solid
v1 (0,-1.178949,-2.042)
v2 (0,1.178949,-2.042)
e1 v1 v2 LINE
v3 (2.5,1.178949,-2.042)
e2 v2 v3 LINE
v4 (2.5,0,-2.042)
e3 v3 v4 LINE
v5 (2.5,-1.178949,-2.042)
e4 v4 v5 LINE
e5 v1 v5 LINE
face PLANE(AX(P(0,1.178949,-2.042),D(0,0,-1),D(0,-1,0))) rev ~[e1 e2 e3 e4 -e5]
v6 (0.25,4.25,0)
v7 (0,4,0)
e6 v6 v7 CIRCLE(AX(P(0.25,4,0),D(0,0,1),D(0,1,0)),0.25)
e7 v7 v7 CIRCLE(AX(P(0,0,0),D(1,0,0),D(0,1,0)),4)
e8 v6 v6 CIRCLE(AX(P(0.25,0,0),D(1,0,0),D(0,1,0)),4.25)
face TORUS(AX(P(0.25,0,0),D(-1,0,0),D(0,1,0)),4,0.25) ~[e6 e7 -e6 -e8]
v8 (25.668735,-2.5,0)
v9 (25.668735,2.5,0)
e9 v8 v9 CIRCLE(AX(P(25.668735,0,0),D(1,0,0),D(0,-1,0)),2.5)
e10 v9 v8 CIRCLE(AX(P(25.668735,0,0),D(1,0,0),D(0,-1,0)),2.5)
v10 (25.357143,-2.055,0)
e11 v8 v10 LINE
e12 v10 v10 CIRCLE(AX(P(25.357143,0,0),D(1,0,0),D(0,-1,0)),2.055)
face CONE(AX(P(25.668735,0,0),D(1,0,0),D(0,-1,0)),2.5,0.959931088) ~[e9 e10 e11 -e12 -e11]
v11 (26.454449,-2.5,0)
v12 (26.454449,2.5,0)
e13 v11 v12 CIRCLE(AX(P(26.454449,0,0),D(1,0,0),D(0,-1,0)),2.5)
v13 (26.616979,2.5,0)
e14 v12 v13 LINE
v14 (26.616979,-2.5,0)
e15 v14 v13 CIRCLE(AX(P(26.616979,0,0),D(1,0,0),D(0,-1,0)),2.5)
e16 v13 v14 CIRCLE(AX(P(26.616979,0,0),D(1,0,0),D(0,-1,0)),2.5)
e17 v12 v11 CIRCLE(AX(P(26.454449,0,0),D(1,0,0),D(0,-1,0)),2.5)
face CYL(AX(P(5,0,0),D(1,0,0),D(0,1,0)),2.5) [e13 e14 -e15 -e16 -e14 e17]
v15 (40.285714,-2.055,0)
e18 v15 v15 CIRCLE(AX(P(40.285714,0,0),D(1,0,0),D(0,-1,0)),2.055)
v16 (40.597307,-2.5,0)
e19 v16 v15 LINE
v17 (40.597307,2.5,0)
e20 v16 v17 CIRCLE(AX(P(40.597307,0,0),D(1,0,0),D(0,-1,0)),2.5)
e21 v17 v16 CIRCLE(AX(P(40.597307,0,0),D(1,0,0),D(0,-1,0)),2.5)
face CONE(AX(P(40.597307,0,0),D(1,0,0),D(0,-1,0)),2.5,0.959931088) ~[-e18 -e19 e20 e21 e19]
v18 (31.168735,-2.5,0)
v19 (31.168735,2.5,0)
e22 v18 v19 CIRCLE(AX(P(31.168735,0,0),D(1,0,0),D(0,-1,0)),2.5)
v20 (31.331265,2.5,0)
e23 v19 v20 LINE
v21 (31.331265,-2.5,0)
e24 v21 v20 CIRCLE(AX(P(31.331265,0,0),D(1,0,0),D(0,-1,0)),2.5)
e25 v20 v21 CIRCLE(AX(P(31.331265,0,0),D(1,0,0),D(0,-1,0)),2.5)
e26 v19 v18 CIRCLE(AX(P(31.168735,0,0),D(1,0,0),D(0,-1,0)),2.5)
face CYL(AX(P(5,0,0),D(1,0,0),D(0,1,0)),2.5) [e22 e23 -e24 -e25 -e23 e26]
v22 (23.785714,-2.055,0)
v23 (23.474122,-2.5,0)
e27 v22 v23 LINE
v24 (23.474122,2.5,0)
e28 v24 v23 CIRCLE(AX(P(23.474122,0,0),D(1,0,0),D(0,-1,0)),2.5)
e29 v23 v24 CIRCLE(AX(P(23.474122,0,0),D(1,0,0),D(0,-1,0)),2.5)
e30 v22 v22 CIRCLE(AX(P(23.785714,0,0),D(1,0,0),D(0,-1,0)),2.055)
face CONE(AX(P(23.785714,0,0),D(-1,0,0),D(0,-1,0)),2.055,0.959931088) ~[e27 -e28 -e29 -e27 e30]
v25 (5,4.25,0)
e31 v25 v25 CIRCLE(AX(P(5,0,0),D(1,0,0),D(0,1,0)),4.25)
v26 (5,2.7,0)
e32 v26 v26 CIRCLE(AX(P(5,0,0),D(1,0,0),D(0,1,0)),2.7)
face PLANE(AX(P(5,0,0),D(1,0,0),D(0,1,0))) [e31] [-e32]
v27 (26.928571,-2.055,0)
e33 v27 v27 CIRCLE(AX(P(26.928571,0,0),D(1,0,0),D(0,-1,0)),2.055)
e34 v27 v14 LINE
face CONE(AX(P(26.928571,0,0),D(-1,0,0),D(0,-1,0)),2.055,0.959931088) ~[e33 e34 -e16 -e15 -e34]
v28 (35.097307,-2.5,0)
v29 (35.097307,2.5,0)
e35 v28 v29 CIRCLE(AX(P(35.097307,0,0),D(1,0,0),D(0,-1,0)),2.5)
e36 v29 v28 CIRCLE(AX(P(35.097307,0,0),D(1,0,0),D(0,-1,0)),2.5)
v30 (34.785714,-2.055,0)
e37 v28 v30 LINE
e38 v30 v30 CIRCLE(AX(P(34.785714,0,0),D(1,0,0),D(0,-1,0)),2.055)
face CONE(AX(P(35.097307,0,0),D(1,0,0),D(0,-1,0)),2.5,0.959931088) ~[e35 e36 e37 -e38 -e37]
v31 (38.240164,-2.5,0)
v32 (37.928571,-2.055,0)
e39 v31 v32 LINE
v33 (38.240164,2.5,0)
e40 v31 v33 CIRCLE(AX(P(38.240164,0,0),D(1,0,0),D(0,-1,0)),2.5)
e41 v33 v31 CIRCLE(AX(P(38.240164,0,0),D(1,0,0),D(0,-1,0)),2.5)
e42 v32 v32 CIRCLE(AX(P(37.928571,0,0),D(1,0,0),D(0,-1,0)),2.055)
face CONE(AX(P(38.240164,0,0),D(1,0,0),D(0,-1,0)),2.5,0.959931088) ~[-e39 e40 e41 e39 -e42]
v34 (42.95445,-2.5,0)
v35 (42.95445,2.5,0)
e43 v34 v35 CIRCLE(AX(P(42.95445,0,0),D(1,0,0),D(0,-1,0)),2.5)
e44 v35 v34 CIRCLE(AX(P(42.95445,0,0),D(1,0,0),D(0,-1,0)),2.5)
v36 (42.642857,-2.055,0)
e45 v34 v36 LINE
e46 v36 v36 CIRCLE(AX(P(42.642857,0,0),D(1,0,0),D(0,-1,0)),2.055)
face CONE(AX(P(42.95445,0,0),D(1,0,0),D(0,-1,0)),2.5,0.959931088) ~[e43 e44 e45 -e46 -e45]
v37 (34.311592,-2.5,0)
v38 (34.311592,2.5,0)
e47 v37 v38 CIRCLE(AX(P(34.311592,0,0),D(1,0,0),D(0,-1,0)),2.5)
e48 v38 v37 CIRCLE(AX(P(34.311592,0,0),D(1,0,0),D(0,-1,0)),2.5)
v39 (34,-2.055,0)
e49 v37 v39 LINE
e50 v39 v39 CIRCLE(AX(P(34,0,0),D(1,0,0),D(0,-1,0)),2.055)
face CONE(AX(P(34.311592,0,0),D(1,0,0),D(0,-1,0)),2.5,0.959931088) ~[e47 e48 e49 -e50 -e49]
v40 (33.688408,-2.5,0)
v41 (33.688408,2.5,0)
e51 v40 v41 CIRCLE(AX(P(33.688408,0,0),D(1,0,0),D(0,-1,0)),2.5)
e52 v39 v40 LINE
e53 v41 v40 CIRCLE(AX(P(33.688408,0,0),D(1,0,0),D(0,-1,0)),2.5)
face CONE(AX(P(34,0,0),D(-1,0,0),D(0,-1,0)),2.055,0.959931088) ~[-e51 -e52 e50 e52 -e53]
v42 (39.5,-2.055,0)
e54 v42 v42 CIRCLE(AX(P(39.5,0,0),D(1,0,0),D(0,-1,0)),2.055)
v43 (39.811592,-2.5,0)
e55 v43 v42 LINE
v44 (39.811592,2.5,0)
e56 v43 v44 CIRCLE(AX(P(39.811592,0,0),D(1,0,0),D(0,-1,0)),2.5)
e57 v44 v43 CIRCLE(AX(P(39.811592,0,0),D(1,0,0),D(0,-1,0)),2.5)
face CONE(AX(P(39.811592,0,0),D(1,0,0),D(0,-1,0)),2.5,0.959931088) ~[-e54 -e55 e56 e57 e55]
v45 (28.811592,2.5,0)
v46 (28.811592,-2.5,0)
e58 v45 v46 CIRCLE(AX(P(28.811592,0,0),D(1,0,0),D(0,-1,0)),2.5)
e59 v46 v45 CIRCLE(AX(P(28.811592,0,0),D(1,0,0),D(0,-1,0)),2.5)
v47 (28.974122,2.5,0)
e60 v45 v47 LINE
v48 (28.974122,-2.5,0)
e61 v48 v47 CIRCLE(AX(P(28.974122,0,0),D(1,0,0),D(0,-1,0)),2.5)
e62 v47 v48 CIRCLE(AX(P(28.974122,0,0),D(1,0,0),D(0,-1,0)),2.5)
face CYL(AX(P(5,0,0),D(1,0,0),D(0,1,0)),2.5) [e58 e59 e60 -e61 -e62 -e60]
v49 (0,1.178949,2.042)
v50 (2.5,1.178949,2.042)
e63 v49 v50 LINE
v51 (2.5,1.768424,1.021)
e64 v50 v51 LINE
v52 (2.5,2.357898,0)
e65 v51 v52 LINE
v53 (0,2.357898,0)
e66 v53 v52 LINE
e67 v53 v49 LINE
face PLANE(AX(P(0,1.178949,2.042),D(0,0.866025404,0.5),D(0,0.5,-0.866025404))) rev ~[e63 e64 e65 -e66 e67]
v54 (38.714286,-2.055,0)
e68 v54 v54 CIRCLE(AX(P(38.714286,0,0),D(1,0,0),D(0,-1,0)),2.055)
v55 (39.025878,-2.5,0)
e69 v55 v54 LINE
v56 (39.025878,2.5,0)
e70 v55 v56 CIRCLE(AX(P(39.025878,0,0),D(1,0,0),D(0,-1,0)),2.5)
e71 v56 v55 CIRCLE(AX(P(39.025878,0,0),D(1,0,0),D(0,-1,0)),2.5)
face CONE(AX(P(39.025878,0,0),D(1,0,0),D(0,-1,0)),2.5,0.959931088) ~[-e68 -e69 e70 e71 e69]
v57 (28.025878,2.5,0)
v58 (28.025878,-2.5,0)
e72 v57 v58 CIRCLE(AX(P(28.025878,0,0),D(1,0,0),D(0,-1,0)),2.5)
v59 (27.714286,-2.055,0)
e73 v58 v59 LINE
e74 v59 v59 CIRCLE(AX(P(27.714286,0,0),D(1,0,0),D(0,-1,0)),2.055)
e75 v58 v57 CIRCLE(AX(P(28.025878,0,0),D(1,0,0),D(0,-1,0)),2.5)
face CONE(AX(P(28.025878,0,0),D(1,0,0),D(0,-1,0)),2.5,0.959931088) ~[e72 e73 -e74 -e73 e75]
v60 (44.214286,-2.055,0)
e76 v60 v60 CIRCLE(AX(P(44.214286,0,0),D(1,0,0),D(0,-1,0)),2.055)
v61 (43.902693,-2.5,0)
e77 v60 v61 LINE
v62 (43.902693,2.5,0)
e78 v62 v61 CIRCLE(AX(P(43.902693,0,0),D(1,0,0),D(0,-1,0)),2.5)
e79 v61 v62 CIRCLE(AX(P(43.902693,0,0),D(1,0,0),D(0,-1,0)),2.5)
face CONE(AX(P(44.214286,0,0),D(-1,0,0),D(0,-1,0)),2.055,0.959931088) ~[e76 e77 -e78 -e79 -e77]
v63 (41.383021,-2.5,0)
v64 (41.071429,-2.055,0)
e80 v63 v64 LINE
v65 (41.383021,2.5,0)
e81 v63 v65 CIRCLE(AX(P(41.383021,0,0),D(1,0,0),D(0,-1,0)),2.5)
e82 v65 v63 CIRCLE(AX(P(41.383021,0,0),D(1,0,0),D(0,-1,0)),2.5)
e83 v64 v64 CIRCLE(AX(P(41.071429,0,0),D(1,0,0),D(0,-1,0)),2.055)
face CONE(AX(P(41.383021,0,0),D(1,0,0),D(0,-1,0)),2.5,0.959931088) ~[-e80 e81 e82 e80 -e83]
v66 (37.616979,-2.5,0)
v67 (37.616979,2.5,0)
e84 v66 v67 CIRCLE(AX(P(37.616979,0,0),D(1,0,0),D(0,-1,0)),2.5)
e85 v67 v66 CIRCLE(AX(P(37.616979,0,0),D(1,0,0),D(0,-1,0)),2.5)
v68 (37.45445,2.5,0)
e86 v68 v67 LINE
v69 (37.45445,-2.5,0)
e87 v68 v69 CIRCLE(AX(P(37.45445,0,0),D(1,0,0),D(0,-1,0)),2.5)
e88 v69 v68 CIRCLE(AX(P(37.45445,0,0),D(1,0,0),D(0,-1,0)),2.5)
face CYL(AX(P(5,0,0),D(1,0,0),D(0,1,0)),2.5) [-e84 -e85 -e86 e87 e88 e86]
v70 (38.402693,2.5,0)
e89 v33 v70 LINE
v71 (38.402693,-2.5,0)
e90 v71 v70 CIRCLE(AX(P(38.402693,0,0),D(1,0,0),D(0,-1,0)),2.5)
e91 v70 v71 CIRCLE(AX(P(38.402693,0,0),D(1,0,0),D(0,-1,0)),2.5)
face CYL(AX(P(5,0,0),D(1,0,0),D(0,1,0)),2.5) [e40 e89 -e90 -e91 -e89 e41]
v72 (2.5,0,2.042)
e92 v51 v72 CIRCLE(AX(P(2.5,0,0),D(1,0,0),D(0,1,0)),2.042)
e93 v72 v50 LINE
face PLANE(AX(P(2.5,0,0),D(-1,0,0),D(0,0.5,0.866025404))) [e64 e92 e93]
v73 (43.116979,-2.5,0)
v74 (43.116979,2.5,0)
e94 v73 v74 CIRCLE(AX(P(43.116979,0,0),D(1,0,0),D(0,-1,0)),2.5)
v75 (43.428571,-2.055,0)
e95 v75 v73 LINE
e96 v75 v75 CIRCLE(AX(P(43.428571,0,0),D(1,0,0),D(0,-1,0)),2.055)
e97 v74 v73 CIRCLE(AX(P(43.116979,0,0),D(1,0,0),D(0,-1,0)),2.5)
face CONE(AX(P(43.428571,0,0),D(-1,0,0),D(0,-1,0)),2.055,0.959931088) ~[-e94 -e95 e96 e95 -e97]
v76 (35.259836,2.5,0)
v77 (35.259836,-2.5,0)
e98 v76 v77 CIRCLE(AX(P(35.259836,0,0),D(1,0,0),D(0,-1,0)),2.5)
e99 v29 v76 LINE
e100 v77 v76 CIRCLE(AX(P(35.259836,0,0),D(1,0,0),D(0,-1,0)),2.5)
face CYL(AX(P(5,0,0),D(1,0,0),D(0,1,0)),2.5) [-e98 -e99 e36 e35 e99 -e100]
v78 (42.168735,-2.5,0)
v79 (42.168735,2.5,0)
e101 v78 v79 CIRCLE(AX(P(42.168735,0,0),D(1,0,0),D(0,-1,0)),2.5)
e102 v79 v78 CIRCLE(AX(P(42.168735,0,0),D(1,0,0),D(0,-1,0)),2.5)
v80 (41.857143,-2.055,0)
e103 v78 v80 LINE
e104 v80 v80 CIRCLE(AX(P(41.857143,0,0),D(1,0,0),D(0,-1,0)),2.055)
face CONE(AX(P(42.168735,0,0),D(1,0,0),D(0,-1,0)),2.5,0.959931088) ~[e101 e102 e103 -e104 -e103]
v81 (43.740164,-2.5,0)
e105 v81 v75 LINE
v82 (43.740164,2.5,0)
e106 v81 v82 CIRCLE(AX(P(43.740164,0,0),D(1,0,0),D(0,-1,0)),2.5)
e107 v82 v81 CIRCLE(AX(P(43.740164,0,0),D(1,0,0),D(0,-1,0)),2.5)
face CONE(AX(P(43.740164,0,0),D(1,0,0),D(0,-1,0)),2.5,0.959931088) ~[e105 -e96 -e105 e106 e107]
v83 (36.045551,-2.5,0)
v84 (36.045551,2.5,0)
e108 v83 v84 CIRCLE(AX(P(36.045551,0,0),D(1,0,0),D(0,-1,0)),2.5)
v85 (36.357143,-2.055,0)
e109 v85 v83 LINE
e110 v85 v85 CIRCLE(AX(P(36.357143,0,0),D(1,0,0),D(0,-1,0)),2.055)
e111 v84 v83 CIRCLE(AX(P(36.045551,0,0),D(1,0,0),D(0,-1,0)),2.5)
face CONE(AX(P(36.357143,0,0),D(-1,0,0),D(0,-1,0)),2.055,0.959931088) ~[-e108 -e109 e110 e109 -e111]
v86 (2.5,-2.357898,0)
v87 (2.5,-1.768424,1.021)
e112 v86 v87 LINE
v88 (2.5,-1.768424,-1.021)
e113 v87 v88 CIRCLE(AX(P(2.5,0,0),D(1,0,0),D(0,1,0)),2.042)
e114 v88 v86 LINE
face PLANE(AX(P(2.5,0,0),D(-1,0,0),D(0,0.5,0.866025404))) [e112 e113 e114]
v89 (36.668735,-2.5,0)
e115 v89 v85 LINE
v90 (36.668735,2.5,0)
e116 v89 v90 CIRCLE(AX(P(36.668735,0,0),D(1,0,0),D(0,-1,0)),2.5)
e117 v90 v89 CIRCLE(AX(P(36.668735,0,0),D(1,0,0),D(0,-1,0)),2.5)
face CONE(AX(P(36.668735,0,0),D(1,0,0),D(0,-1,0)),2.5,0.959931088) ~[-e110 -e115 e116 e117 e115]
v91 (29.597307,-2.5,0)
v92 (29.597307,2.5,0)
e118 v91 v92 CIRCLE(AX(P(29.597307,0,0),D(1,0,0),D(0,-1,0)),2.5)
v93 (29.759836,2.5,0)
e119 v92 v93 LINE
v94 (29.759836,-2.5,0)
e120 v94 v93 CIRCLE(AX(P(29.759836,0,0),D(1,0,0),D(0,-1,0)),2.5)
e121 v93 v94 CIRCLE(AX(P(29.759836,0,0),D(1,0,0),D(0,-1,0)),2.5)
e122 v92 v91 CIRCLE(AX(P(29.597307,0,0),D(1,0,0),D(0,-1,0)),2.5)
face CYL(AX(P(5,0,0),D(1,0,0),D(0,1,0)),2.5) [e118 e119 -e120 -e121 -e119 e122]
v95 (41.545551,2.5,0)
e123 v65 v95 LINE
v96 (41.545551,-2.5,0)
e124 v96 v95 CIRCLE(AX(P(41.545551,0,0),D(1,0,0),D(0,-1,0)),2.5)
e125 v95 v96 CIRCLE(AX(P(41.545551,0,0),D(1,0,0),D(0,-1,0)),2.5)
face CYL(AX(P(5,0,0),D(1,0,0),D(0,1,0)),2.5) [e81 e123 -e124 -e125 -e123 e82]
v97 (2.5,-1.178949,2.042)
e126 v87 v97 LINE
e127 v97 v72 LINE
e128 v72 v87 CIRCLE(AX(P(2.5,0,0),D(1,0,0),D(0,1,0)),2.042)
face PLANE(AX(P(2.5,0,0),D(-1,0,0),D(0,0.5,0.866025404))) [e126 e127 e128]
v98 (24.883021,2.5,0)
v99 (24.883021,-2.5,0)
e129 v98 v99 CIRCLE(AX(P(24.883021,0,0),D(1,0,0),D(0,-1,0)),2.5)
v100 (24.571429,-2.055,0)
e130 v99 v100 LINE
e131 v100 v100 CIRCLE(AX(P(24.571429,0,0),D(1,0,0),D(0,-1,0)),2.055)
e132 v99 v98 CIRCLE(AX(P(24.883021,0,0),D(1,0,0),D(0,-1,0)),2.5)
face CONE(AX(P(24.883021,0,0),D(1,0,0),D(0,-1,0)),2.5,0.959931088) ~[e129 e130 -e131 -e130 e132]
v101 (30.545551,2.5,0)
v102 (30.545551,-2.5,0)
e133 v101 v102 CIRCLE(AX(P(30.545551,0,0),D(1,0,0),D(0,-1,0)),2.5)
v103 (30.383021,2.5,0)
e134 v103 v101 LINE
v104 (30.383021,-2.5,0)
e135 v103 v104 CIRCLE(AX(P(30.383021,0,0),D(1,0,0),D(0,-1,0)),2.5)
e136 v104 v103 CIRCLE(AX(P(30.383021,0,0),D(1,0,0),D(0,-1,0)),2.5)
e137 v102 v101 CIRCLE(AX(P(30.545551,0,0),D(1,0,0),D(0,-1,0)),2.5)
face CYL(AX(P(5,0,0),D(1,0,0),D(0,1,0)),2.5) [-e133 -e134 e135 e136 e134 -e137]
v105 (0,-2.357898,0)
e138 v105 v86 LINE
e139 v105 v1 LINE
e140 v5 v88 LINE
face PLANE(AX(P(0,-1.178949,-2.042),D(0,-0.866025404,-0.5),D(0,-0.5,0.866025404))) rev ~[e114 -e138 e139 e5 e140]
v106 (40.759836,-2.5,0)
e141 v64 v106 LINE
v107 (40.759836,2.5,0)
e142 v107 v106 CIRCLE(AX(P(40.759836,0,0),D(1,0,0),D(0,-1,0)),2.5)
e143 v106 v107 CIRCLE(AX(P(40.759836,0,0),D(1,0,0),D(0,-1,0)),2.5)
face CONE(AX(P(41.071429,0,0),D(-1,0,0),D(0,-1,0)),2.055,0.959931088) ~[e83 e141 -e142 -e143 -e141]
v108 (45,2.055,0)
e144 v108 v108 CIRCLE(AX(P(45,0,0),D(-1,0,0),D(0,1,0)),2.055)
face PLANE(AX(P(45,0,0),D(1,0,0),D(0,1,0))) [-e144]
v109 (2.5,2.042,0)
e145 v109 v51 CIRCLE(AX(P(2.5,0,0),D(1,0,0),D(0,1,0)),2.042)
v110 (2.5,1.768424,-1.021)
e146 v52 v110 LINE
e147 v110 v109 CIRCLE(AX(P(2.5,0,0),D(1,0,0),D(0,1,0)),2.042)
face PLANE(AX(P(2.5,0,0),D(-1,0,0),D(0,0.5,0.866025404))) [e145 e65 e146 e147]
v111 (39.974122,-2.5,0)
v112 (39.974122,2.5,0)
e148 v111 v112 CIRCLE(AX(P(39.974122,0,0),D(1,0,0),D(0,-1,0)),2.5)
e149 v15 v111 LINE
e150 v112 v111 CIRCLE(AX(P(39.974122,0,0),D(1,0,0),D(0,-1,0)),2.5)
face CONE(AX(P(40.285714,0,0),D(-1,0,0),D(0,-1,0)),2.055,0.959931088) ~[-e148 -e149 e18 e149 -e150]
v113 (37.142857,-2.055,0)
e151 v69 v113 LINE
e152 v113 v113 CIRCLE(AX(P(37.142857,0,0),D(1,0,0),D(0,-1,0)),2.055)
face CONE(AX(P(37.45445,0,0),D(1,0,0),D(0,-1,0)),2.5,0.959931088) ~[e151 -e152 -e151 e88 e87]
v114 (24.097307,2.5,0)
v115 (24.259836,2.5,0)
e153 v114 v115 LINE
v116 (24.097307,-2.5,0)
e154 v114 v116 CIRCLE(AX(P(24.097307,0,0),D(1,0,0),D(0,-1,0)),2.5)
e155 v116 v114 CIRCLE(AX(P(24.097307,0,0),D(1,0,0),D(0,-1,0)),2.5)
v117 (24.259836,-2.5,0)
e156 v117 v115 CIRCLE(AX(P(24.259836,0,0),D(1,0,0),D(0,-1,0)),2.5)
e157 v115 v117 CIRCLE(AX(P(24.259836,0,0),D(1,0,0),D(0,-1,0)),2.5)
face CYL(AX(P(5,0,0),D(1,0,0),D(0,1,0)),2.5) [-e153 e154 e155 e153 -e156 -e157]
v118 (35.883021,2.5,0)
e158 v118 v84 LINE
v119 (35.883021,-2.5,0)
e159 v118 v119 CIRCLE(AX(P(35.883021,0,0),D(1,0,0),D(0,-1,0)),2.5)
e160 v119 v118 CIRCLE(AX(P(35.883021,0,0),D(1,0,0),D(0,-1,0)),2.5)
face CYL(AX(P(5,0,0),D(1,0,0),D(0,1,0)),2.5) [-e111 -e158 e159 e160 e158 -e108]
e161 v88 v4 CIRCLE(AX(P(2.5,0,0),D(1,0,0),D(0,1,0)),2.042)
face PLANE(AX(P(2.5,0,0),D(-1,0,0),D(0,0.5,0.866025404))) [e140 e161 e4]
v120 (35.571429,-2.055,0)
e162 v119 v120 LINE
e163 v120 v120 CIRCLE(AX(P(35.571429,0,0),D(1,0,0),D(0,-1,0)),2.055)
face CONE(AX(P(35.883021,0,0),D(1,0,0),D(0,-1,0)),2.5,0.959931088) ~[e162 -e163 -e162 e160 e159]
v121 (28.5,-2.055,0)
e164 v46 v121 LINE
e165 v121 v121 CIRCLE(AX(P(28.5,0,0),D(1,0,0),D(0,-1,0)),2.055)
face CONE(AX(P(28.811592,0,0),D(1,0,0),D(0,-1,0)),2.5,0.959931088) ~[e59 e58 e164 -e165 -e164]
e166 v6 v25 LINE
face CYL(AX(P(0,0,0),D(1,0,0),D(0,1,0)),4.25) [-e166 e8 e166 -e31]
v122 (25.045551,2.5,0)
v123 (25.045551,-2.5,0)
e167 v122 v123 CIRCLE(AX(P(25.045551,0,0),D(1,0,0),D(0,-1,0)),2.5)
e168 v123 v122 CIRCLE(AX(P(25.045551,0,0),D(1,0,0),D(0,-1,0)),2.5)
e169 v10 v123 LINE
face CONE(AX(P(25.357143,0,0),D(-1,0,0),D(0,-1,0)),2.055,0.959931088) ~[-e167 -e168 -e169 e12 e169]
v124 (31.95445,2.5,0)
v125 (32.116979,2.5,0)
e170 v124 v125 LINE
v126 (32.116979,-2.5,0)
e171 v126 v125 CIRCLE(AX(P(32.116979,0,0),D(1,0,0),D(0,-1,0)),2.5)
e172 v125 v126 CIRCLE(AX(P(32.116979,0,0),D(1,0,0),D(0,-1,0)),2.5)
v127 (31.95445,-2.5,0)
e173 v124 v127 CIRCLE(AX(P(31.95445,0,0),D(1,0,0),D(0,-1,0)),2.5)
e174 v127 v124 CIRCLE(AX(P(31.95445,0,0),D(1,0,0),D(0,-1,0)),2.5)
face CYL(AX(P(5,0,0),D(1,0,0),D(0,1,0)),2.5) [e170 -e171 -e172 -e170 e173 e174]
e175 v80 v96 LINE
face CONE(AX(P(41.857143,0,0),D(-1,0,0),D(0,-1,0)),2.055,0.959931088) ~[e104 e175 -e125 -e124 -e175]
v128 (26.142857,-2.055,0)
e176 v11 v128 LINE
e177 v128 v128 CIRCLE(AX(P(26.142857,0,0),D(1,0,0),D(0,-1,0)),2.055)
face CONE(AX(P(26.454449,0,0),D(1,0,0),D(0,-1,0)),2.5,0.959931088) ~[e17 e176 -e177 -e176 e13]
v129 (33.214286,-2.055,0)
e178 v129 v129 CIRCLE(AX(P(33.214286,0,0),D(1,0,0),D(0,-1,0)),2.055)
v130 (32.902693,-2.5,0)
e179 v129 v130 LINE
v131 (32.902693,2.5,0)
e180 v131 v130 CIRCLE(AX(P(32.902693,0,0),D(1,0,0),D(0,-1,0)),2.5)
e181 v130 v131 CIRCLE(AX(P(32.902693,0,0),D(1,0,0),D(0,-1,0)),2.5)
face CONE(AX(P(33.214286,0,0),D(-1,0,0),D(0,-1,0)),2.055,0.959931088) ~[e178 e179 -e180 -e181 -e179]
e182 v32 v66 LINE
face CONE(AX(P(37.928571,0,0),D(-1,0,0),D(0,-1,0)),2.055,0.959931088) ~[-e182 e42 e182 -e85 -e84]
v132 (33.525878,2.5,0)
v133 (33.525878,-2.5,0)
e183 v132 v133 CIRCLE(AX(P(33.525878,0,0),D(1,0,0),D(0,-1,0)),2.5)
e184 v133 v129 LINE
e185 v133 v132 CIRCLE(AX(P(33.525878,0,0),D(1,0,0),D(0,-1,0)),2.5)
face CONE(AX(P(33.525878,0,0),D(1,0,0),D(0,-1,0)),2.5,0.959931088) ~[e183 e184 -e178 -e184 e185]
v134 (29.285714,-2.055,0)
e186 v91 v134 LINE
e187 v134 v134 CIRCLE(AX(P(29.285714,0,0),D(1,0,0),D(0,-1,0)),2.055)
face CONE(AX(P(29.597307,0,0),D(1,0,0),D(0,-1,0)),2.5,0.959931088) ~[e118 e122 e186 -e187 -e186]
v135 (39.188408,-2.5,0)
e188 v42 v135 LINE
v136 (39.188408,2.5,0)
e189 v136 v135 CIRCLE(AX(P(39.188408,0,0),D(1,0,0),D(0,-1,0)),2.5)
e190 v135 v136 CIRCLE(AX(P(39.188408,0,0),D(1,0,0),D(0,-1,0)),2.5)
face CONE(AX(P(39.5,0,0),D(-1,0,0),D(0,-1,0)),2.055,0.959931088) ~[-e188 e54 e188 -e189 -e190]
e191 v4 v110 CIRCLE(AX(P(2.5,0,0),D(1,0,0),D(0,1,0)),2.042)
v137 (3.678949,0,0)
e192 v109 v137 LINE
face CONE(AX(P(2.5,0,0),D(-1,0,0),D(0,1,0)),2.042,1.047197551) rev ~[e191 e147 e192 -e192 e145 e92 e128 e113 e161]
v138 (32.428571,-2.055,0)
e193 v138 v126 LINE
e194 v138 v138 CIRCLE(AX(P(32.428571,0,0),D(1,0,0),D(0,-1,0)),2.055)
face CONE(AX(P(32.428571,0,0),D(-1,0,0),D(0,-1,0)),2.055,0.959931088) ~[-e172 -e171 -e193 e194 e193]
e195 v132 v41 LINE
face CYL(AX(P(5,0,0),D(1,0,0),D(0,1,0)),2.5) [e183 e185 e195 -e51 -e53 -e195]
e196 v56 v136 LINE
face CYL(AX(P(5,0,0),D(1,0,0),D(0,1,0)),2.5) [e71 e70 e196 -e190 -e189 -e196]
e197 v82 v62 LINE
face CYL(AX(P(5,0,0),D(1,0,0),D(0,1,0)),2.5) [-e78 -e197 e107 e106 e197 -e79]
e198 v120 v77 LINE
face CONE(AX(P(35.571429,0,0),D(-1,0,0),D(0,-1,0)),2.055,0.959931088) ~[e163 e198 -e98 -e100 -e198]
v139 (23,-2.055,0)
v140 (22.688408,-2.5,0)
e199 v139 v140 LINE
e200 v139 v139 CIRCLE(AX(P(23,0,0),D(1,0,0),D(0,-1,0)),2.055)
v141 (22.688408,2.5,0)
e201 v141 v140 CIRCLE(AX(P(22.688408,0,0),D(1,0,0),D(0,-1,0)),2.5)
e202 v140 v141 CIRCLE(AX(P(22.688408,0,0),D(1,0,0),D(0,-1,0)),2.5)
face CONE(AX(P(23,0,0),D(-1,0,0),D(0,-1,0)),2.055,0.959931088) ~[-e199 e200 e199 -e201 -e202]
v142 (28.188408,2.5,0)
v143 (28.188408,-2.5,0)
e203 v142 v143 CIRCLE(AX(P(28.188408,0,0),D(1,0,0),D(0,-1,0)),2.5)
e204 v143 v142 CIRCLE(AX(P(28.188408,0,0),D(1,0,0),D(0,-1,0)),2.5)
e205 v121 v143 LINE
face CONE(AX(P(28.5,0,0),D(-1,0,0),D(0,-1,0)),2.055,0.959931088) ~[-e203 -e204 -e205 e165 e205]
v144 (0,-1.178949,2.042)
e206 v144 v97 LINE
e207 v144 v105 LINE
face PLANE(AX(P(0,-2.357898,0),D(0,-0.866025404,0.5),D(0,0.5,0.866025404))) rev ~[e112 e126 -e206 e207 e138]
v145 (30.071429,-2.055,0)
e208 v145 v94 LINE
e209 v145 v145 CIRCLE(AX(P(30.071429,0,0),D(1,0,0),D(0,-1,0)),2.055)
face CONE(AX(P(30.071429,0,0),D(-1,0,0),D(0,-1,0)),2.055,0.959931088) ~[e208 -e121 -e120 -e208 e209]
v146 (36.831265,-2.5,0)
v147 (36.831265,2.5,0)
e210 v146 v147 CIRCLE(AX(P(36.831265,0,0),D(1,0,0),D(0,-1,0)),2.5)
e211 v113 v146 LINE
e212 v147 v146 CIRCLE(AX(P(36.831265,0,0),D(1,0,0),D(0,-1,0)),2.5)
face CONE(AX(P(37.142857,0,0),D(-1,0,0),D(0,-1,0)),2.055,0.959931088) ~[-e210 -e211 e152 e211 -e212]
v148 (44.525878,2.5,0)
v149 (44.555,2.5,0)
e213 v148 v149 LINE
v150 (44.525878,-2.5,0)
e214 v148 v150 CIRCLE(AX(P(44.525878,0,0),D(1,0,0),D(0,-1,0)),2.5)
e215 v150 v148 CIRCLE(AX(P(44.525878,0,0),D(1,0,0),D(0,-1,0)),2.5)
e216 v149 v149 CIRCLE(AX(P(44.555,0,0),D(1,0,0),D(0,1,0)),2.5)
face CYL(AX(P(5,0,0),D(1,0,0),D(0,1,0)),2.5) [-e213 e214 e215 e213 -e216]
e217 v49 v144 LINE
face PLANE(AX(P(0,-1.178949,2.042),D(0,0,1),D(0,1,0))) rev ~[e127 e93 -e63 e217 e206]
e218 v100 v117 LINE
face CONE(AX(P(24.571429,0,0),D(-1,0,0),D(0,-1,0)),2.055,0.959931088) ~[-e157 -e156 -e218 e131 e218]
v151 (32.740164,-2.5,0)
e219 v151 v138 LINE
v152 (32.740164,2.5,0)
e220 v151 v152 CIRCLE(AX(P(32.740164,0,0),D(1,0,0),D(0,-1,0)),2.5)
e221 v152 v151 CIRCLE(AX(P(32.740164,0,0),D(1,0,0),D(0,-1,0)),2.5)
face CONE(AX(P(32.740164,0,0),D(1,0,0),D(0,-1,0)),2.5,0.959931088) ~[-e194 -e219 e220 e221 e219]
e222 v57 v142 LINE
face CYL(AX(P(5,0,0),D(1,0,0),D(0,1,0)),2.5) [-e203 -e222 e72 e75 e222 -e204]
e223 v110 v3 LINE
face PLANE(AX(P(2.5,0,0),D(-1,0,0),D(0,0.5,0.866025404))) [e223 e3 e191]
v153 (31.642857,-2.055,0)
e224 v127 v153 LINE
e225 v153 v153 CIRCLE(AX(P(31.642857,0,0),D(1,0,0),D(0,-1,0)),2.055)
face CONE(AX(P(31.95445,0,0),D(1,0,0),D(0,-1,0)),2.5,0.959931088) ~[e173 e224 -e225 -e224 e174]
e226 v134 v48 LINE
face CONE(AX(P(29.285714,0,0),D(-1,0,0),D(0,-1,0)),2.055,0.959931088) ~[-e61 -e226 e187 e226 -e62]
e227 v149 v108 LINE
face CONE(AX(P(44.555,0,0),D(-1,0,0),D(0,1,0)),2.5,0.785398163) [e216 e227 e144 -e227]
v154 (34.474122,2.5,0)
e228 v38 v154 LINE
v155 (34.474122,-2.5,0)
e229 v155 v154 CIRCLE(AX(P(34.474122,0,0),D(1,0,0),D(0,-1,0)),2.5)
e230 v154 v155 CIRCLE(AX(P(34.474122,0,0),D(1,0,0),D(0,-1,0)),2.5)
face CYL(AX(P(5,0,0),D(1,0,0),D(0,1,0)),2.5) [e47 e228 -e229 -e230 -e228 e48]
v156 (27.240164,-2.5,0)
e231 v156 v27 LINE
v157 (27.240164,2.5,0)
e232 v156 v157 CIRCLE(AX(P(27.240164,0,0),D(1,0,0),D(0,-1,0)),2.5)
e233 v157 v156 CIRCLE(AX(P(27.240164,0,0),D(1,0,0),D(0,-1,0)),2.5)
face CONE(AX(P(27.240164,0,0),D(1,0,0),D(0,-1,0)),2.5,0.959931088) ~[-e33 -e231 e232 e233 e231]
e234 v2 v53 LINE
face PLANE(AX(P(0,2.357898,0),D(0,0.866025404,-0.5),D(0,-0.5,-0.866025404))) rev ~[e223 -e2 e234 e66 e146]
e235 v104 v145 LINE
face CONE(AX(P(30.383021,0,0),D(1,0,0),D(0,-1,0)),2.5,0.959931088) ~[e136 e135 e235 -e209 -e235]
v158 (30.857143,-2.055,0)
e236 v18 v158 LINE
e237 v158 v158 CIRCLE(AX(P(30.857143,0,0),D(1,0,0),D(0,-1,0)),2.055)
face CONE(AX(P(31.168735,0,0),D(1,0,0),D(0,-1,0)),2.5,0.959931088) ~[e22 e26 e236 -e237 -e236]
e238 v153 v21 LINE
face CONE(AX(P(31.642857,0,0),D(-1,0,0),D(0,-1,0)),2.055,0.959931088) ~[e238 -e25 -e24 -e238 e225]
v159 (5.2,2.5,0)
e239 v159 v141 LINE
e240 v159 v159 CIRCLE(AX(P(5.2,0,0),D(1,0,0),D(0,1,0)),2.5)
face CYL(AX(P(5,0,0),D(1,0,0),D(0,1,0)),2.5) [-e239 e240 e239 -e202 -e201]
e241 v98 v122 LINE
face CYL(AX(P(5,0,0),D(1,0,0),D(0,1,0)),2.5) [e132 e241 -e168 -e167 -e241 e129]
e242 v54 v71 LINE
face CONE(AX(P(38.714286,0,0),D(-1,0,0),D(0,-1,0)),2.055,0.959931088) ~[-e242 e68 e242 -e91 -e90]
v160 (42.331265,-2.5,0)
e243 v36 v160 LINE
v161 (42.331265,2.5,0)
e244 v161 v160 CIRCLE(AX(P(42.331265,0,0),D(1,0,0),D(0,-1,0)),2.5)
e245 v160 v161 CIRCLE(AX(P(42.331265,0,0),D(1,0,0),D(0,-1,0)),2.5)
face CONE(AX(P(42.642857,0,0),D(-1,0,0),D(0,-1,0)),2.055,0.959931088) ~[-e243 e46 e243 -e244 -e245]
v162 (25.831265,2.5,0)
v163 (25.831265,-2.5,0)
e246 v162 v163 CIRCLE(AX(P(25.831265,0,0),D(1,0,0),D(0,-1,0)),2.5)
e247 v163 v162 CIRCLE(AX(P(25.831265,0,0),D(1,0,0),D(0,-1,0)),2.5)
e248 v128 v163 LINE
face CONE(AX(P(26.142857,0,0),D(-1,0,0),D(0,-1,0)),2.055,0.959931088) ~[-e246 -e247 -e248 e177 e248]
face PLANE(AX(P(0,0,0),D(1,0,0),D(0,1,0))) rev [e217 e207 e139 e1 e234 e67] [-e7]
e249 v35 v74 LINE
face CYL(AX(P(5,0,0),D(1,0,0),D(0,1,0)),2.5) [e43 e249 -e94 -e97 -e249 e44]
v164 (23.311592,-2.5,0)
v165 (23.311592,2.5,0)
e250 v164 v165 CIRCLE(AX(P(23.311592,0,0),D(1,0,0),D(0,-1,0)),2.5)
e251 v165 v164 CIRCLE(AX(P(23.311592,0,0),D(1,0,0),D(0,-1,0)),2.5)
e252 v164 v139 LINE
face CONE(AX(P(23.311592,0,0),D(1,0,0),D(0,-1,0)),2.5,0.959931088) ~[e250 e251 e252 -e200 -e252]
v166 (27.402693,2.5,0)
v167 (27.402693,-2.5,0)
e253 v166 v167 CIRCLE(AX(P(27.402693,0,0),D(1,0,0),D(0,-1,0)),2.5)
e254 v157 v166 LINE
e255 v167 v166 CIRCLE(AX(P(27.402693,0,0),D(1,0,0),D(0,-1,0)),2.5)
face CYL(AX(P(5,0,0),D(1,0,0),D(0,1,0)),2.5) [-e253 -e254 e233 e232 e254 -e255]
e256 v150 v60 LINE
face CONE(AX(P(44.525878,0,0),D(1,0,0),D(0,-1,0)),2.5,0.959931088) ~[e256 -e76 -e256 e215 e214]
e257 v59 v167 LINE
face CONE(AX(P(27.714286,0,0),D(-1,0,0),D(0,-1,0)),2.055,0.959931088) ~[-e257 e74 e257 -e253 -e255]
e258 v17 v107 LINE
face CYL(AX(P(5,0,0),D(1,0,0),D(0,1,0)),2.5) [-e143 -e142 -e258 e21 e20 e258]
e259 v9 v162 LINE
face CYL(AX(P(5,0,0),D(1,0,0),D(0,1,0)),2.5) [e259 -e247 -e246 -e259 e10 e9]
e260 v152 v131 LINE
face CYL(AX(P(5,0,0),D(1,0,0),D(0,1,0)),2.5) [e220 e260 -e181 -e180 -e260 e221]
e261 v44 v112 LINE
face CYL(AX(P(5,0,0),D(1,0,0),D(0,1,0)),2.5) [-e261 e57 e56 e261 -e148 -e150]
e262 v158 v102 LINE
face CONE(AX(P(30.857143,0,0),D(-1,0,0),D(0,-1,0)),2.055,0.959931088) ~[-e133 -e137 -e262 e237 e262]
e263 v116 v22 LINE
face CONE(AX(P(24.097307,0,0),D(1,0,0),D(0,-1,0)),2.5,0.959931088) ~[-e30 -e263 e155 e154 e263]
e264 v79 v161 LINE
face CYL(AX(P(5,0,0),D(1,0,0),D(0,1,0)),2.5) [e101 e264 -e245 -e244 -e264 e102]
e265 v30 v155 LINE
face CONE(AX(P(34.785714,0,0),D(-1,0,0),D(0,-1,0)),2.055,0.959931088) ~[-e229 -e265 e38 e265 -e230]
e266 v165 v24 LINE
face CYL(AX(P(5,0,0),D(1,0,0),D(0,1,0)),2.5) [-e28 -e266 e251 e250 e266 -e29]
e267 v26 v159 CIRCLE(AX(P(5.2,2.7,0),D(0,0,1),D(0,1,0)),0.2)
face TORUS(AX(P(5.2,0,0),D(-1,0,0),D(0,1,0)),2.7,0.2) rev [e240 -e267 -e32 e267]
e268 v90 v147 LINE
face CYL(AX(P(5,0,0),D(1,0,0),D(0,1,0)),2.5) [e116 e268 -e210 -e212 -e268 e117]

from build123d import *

# Parameters (mm, degrees)
FILLET1_R       = 0.2
FILLET2_R       = 0.25
HEX_2_DEPTH     = 2.5
THDSCHPAT_COUNT = 29
THDSCHPAT_PITCH = 0.785714286


with BuildPart() as part:
    # BodySke → Base-Revolve (revolve)
    with BuildSketch(Plane.XY):
        Polygon((0, 0), (0, 4.25), (5, 4.25), (5, 2.5), (44.555, 2.5), (45, 2.055), (45, 0), align=None)
    revolve(axis=Axis((-31.75, 0, 0), (1, 0, 0)))

    # Fillet1
    fillet1_edges = [part.edges().sort_by_distance(p)[0] for p in [
        (5, -2.5, 0),
    ]]
    fillet(fillet1_edges, radius=FILLET1_R)

    # Fillet2
    fillet2_edges = [part.edges().sort_by_distance(p)[0] for p in [
        (0, -4.25, 0),
    ]]
    fillet(fillet2_edges, radius=FILLET2_R)

    # Sketch2 → Hex-PreBroach (revolve, cut)
    with BuildSketch(Plane.XY):
        Polygon((0, 2.042), (2.5, 2.042), (3.67894925, 0), (0, 0), align=None)
    revolve(axis=Axis((0, 0, 0), (1, 0, 0)), mode=Mode.SUBTRACT)

    # Sketch3 → Hex 2 (cut)
    with BuildSketch(Plane(origin=(0, 0, 0), x_dir=(0, 0.5, 0.866025404), z_dir=(-1, 0, 0))):
        Polygon((1.17894925, 2.042), (-1.17894925, 2.042), (-2.357898499, 0), (-1.17894925, -2.042), (1.17894925, -2.042), (2.357898499, 0), align=None)
    extrude(amount=-HEX_2_DEPTH, mode=Mode.SUBTRACT)

    # ThdSchSke → ThreadSchematic (revolve, cut)
    with BuildSketch(Plane.XY):
        Polygon((23, -2.055), (22.688407645, -2.5), (22.688407645, -3.125), (23.311592355, -3.125), (23.311592355, -2.5), align=None)
    threadschematic = revolve(axis=Axis((-3.175, 0, 0), (1, 0, 0)), mode=Mode.SUBTRACT)

    # ThdSchPat: ThreadSchematic ×29
    with Locations(*[(i * THDSCHPAT_PITCH, 0, 0) for i in range(1, THDSCHPAT_COUNT)]):
        add(threadschematic, mode=Mode.SUBTRACT)


solid = part.part
